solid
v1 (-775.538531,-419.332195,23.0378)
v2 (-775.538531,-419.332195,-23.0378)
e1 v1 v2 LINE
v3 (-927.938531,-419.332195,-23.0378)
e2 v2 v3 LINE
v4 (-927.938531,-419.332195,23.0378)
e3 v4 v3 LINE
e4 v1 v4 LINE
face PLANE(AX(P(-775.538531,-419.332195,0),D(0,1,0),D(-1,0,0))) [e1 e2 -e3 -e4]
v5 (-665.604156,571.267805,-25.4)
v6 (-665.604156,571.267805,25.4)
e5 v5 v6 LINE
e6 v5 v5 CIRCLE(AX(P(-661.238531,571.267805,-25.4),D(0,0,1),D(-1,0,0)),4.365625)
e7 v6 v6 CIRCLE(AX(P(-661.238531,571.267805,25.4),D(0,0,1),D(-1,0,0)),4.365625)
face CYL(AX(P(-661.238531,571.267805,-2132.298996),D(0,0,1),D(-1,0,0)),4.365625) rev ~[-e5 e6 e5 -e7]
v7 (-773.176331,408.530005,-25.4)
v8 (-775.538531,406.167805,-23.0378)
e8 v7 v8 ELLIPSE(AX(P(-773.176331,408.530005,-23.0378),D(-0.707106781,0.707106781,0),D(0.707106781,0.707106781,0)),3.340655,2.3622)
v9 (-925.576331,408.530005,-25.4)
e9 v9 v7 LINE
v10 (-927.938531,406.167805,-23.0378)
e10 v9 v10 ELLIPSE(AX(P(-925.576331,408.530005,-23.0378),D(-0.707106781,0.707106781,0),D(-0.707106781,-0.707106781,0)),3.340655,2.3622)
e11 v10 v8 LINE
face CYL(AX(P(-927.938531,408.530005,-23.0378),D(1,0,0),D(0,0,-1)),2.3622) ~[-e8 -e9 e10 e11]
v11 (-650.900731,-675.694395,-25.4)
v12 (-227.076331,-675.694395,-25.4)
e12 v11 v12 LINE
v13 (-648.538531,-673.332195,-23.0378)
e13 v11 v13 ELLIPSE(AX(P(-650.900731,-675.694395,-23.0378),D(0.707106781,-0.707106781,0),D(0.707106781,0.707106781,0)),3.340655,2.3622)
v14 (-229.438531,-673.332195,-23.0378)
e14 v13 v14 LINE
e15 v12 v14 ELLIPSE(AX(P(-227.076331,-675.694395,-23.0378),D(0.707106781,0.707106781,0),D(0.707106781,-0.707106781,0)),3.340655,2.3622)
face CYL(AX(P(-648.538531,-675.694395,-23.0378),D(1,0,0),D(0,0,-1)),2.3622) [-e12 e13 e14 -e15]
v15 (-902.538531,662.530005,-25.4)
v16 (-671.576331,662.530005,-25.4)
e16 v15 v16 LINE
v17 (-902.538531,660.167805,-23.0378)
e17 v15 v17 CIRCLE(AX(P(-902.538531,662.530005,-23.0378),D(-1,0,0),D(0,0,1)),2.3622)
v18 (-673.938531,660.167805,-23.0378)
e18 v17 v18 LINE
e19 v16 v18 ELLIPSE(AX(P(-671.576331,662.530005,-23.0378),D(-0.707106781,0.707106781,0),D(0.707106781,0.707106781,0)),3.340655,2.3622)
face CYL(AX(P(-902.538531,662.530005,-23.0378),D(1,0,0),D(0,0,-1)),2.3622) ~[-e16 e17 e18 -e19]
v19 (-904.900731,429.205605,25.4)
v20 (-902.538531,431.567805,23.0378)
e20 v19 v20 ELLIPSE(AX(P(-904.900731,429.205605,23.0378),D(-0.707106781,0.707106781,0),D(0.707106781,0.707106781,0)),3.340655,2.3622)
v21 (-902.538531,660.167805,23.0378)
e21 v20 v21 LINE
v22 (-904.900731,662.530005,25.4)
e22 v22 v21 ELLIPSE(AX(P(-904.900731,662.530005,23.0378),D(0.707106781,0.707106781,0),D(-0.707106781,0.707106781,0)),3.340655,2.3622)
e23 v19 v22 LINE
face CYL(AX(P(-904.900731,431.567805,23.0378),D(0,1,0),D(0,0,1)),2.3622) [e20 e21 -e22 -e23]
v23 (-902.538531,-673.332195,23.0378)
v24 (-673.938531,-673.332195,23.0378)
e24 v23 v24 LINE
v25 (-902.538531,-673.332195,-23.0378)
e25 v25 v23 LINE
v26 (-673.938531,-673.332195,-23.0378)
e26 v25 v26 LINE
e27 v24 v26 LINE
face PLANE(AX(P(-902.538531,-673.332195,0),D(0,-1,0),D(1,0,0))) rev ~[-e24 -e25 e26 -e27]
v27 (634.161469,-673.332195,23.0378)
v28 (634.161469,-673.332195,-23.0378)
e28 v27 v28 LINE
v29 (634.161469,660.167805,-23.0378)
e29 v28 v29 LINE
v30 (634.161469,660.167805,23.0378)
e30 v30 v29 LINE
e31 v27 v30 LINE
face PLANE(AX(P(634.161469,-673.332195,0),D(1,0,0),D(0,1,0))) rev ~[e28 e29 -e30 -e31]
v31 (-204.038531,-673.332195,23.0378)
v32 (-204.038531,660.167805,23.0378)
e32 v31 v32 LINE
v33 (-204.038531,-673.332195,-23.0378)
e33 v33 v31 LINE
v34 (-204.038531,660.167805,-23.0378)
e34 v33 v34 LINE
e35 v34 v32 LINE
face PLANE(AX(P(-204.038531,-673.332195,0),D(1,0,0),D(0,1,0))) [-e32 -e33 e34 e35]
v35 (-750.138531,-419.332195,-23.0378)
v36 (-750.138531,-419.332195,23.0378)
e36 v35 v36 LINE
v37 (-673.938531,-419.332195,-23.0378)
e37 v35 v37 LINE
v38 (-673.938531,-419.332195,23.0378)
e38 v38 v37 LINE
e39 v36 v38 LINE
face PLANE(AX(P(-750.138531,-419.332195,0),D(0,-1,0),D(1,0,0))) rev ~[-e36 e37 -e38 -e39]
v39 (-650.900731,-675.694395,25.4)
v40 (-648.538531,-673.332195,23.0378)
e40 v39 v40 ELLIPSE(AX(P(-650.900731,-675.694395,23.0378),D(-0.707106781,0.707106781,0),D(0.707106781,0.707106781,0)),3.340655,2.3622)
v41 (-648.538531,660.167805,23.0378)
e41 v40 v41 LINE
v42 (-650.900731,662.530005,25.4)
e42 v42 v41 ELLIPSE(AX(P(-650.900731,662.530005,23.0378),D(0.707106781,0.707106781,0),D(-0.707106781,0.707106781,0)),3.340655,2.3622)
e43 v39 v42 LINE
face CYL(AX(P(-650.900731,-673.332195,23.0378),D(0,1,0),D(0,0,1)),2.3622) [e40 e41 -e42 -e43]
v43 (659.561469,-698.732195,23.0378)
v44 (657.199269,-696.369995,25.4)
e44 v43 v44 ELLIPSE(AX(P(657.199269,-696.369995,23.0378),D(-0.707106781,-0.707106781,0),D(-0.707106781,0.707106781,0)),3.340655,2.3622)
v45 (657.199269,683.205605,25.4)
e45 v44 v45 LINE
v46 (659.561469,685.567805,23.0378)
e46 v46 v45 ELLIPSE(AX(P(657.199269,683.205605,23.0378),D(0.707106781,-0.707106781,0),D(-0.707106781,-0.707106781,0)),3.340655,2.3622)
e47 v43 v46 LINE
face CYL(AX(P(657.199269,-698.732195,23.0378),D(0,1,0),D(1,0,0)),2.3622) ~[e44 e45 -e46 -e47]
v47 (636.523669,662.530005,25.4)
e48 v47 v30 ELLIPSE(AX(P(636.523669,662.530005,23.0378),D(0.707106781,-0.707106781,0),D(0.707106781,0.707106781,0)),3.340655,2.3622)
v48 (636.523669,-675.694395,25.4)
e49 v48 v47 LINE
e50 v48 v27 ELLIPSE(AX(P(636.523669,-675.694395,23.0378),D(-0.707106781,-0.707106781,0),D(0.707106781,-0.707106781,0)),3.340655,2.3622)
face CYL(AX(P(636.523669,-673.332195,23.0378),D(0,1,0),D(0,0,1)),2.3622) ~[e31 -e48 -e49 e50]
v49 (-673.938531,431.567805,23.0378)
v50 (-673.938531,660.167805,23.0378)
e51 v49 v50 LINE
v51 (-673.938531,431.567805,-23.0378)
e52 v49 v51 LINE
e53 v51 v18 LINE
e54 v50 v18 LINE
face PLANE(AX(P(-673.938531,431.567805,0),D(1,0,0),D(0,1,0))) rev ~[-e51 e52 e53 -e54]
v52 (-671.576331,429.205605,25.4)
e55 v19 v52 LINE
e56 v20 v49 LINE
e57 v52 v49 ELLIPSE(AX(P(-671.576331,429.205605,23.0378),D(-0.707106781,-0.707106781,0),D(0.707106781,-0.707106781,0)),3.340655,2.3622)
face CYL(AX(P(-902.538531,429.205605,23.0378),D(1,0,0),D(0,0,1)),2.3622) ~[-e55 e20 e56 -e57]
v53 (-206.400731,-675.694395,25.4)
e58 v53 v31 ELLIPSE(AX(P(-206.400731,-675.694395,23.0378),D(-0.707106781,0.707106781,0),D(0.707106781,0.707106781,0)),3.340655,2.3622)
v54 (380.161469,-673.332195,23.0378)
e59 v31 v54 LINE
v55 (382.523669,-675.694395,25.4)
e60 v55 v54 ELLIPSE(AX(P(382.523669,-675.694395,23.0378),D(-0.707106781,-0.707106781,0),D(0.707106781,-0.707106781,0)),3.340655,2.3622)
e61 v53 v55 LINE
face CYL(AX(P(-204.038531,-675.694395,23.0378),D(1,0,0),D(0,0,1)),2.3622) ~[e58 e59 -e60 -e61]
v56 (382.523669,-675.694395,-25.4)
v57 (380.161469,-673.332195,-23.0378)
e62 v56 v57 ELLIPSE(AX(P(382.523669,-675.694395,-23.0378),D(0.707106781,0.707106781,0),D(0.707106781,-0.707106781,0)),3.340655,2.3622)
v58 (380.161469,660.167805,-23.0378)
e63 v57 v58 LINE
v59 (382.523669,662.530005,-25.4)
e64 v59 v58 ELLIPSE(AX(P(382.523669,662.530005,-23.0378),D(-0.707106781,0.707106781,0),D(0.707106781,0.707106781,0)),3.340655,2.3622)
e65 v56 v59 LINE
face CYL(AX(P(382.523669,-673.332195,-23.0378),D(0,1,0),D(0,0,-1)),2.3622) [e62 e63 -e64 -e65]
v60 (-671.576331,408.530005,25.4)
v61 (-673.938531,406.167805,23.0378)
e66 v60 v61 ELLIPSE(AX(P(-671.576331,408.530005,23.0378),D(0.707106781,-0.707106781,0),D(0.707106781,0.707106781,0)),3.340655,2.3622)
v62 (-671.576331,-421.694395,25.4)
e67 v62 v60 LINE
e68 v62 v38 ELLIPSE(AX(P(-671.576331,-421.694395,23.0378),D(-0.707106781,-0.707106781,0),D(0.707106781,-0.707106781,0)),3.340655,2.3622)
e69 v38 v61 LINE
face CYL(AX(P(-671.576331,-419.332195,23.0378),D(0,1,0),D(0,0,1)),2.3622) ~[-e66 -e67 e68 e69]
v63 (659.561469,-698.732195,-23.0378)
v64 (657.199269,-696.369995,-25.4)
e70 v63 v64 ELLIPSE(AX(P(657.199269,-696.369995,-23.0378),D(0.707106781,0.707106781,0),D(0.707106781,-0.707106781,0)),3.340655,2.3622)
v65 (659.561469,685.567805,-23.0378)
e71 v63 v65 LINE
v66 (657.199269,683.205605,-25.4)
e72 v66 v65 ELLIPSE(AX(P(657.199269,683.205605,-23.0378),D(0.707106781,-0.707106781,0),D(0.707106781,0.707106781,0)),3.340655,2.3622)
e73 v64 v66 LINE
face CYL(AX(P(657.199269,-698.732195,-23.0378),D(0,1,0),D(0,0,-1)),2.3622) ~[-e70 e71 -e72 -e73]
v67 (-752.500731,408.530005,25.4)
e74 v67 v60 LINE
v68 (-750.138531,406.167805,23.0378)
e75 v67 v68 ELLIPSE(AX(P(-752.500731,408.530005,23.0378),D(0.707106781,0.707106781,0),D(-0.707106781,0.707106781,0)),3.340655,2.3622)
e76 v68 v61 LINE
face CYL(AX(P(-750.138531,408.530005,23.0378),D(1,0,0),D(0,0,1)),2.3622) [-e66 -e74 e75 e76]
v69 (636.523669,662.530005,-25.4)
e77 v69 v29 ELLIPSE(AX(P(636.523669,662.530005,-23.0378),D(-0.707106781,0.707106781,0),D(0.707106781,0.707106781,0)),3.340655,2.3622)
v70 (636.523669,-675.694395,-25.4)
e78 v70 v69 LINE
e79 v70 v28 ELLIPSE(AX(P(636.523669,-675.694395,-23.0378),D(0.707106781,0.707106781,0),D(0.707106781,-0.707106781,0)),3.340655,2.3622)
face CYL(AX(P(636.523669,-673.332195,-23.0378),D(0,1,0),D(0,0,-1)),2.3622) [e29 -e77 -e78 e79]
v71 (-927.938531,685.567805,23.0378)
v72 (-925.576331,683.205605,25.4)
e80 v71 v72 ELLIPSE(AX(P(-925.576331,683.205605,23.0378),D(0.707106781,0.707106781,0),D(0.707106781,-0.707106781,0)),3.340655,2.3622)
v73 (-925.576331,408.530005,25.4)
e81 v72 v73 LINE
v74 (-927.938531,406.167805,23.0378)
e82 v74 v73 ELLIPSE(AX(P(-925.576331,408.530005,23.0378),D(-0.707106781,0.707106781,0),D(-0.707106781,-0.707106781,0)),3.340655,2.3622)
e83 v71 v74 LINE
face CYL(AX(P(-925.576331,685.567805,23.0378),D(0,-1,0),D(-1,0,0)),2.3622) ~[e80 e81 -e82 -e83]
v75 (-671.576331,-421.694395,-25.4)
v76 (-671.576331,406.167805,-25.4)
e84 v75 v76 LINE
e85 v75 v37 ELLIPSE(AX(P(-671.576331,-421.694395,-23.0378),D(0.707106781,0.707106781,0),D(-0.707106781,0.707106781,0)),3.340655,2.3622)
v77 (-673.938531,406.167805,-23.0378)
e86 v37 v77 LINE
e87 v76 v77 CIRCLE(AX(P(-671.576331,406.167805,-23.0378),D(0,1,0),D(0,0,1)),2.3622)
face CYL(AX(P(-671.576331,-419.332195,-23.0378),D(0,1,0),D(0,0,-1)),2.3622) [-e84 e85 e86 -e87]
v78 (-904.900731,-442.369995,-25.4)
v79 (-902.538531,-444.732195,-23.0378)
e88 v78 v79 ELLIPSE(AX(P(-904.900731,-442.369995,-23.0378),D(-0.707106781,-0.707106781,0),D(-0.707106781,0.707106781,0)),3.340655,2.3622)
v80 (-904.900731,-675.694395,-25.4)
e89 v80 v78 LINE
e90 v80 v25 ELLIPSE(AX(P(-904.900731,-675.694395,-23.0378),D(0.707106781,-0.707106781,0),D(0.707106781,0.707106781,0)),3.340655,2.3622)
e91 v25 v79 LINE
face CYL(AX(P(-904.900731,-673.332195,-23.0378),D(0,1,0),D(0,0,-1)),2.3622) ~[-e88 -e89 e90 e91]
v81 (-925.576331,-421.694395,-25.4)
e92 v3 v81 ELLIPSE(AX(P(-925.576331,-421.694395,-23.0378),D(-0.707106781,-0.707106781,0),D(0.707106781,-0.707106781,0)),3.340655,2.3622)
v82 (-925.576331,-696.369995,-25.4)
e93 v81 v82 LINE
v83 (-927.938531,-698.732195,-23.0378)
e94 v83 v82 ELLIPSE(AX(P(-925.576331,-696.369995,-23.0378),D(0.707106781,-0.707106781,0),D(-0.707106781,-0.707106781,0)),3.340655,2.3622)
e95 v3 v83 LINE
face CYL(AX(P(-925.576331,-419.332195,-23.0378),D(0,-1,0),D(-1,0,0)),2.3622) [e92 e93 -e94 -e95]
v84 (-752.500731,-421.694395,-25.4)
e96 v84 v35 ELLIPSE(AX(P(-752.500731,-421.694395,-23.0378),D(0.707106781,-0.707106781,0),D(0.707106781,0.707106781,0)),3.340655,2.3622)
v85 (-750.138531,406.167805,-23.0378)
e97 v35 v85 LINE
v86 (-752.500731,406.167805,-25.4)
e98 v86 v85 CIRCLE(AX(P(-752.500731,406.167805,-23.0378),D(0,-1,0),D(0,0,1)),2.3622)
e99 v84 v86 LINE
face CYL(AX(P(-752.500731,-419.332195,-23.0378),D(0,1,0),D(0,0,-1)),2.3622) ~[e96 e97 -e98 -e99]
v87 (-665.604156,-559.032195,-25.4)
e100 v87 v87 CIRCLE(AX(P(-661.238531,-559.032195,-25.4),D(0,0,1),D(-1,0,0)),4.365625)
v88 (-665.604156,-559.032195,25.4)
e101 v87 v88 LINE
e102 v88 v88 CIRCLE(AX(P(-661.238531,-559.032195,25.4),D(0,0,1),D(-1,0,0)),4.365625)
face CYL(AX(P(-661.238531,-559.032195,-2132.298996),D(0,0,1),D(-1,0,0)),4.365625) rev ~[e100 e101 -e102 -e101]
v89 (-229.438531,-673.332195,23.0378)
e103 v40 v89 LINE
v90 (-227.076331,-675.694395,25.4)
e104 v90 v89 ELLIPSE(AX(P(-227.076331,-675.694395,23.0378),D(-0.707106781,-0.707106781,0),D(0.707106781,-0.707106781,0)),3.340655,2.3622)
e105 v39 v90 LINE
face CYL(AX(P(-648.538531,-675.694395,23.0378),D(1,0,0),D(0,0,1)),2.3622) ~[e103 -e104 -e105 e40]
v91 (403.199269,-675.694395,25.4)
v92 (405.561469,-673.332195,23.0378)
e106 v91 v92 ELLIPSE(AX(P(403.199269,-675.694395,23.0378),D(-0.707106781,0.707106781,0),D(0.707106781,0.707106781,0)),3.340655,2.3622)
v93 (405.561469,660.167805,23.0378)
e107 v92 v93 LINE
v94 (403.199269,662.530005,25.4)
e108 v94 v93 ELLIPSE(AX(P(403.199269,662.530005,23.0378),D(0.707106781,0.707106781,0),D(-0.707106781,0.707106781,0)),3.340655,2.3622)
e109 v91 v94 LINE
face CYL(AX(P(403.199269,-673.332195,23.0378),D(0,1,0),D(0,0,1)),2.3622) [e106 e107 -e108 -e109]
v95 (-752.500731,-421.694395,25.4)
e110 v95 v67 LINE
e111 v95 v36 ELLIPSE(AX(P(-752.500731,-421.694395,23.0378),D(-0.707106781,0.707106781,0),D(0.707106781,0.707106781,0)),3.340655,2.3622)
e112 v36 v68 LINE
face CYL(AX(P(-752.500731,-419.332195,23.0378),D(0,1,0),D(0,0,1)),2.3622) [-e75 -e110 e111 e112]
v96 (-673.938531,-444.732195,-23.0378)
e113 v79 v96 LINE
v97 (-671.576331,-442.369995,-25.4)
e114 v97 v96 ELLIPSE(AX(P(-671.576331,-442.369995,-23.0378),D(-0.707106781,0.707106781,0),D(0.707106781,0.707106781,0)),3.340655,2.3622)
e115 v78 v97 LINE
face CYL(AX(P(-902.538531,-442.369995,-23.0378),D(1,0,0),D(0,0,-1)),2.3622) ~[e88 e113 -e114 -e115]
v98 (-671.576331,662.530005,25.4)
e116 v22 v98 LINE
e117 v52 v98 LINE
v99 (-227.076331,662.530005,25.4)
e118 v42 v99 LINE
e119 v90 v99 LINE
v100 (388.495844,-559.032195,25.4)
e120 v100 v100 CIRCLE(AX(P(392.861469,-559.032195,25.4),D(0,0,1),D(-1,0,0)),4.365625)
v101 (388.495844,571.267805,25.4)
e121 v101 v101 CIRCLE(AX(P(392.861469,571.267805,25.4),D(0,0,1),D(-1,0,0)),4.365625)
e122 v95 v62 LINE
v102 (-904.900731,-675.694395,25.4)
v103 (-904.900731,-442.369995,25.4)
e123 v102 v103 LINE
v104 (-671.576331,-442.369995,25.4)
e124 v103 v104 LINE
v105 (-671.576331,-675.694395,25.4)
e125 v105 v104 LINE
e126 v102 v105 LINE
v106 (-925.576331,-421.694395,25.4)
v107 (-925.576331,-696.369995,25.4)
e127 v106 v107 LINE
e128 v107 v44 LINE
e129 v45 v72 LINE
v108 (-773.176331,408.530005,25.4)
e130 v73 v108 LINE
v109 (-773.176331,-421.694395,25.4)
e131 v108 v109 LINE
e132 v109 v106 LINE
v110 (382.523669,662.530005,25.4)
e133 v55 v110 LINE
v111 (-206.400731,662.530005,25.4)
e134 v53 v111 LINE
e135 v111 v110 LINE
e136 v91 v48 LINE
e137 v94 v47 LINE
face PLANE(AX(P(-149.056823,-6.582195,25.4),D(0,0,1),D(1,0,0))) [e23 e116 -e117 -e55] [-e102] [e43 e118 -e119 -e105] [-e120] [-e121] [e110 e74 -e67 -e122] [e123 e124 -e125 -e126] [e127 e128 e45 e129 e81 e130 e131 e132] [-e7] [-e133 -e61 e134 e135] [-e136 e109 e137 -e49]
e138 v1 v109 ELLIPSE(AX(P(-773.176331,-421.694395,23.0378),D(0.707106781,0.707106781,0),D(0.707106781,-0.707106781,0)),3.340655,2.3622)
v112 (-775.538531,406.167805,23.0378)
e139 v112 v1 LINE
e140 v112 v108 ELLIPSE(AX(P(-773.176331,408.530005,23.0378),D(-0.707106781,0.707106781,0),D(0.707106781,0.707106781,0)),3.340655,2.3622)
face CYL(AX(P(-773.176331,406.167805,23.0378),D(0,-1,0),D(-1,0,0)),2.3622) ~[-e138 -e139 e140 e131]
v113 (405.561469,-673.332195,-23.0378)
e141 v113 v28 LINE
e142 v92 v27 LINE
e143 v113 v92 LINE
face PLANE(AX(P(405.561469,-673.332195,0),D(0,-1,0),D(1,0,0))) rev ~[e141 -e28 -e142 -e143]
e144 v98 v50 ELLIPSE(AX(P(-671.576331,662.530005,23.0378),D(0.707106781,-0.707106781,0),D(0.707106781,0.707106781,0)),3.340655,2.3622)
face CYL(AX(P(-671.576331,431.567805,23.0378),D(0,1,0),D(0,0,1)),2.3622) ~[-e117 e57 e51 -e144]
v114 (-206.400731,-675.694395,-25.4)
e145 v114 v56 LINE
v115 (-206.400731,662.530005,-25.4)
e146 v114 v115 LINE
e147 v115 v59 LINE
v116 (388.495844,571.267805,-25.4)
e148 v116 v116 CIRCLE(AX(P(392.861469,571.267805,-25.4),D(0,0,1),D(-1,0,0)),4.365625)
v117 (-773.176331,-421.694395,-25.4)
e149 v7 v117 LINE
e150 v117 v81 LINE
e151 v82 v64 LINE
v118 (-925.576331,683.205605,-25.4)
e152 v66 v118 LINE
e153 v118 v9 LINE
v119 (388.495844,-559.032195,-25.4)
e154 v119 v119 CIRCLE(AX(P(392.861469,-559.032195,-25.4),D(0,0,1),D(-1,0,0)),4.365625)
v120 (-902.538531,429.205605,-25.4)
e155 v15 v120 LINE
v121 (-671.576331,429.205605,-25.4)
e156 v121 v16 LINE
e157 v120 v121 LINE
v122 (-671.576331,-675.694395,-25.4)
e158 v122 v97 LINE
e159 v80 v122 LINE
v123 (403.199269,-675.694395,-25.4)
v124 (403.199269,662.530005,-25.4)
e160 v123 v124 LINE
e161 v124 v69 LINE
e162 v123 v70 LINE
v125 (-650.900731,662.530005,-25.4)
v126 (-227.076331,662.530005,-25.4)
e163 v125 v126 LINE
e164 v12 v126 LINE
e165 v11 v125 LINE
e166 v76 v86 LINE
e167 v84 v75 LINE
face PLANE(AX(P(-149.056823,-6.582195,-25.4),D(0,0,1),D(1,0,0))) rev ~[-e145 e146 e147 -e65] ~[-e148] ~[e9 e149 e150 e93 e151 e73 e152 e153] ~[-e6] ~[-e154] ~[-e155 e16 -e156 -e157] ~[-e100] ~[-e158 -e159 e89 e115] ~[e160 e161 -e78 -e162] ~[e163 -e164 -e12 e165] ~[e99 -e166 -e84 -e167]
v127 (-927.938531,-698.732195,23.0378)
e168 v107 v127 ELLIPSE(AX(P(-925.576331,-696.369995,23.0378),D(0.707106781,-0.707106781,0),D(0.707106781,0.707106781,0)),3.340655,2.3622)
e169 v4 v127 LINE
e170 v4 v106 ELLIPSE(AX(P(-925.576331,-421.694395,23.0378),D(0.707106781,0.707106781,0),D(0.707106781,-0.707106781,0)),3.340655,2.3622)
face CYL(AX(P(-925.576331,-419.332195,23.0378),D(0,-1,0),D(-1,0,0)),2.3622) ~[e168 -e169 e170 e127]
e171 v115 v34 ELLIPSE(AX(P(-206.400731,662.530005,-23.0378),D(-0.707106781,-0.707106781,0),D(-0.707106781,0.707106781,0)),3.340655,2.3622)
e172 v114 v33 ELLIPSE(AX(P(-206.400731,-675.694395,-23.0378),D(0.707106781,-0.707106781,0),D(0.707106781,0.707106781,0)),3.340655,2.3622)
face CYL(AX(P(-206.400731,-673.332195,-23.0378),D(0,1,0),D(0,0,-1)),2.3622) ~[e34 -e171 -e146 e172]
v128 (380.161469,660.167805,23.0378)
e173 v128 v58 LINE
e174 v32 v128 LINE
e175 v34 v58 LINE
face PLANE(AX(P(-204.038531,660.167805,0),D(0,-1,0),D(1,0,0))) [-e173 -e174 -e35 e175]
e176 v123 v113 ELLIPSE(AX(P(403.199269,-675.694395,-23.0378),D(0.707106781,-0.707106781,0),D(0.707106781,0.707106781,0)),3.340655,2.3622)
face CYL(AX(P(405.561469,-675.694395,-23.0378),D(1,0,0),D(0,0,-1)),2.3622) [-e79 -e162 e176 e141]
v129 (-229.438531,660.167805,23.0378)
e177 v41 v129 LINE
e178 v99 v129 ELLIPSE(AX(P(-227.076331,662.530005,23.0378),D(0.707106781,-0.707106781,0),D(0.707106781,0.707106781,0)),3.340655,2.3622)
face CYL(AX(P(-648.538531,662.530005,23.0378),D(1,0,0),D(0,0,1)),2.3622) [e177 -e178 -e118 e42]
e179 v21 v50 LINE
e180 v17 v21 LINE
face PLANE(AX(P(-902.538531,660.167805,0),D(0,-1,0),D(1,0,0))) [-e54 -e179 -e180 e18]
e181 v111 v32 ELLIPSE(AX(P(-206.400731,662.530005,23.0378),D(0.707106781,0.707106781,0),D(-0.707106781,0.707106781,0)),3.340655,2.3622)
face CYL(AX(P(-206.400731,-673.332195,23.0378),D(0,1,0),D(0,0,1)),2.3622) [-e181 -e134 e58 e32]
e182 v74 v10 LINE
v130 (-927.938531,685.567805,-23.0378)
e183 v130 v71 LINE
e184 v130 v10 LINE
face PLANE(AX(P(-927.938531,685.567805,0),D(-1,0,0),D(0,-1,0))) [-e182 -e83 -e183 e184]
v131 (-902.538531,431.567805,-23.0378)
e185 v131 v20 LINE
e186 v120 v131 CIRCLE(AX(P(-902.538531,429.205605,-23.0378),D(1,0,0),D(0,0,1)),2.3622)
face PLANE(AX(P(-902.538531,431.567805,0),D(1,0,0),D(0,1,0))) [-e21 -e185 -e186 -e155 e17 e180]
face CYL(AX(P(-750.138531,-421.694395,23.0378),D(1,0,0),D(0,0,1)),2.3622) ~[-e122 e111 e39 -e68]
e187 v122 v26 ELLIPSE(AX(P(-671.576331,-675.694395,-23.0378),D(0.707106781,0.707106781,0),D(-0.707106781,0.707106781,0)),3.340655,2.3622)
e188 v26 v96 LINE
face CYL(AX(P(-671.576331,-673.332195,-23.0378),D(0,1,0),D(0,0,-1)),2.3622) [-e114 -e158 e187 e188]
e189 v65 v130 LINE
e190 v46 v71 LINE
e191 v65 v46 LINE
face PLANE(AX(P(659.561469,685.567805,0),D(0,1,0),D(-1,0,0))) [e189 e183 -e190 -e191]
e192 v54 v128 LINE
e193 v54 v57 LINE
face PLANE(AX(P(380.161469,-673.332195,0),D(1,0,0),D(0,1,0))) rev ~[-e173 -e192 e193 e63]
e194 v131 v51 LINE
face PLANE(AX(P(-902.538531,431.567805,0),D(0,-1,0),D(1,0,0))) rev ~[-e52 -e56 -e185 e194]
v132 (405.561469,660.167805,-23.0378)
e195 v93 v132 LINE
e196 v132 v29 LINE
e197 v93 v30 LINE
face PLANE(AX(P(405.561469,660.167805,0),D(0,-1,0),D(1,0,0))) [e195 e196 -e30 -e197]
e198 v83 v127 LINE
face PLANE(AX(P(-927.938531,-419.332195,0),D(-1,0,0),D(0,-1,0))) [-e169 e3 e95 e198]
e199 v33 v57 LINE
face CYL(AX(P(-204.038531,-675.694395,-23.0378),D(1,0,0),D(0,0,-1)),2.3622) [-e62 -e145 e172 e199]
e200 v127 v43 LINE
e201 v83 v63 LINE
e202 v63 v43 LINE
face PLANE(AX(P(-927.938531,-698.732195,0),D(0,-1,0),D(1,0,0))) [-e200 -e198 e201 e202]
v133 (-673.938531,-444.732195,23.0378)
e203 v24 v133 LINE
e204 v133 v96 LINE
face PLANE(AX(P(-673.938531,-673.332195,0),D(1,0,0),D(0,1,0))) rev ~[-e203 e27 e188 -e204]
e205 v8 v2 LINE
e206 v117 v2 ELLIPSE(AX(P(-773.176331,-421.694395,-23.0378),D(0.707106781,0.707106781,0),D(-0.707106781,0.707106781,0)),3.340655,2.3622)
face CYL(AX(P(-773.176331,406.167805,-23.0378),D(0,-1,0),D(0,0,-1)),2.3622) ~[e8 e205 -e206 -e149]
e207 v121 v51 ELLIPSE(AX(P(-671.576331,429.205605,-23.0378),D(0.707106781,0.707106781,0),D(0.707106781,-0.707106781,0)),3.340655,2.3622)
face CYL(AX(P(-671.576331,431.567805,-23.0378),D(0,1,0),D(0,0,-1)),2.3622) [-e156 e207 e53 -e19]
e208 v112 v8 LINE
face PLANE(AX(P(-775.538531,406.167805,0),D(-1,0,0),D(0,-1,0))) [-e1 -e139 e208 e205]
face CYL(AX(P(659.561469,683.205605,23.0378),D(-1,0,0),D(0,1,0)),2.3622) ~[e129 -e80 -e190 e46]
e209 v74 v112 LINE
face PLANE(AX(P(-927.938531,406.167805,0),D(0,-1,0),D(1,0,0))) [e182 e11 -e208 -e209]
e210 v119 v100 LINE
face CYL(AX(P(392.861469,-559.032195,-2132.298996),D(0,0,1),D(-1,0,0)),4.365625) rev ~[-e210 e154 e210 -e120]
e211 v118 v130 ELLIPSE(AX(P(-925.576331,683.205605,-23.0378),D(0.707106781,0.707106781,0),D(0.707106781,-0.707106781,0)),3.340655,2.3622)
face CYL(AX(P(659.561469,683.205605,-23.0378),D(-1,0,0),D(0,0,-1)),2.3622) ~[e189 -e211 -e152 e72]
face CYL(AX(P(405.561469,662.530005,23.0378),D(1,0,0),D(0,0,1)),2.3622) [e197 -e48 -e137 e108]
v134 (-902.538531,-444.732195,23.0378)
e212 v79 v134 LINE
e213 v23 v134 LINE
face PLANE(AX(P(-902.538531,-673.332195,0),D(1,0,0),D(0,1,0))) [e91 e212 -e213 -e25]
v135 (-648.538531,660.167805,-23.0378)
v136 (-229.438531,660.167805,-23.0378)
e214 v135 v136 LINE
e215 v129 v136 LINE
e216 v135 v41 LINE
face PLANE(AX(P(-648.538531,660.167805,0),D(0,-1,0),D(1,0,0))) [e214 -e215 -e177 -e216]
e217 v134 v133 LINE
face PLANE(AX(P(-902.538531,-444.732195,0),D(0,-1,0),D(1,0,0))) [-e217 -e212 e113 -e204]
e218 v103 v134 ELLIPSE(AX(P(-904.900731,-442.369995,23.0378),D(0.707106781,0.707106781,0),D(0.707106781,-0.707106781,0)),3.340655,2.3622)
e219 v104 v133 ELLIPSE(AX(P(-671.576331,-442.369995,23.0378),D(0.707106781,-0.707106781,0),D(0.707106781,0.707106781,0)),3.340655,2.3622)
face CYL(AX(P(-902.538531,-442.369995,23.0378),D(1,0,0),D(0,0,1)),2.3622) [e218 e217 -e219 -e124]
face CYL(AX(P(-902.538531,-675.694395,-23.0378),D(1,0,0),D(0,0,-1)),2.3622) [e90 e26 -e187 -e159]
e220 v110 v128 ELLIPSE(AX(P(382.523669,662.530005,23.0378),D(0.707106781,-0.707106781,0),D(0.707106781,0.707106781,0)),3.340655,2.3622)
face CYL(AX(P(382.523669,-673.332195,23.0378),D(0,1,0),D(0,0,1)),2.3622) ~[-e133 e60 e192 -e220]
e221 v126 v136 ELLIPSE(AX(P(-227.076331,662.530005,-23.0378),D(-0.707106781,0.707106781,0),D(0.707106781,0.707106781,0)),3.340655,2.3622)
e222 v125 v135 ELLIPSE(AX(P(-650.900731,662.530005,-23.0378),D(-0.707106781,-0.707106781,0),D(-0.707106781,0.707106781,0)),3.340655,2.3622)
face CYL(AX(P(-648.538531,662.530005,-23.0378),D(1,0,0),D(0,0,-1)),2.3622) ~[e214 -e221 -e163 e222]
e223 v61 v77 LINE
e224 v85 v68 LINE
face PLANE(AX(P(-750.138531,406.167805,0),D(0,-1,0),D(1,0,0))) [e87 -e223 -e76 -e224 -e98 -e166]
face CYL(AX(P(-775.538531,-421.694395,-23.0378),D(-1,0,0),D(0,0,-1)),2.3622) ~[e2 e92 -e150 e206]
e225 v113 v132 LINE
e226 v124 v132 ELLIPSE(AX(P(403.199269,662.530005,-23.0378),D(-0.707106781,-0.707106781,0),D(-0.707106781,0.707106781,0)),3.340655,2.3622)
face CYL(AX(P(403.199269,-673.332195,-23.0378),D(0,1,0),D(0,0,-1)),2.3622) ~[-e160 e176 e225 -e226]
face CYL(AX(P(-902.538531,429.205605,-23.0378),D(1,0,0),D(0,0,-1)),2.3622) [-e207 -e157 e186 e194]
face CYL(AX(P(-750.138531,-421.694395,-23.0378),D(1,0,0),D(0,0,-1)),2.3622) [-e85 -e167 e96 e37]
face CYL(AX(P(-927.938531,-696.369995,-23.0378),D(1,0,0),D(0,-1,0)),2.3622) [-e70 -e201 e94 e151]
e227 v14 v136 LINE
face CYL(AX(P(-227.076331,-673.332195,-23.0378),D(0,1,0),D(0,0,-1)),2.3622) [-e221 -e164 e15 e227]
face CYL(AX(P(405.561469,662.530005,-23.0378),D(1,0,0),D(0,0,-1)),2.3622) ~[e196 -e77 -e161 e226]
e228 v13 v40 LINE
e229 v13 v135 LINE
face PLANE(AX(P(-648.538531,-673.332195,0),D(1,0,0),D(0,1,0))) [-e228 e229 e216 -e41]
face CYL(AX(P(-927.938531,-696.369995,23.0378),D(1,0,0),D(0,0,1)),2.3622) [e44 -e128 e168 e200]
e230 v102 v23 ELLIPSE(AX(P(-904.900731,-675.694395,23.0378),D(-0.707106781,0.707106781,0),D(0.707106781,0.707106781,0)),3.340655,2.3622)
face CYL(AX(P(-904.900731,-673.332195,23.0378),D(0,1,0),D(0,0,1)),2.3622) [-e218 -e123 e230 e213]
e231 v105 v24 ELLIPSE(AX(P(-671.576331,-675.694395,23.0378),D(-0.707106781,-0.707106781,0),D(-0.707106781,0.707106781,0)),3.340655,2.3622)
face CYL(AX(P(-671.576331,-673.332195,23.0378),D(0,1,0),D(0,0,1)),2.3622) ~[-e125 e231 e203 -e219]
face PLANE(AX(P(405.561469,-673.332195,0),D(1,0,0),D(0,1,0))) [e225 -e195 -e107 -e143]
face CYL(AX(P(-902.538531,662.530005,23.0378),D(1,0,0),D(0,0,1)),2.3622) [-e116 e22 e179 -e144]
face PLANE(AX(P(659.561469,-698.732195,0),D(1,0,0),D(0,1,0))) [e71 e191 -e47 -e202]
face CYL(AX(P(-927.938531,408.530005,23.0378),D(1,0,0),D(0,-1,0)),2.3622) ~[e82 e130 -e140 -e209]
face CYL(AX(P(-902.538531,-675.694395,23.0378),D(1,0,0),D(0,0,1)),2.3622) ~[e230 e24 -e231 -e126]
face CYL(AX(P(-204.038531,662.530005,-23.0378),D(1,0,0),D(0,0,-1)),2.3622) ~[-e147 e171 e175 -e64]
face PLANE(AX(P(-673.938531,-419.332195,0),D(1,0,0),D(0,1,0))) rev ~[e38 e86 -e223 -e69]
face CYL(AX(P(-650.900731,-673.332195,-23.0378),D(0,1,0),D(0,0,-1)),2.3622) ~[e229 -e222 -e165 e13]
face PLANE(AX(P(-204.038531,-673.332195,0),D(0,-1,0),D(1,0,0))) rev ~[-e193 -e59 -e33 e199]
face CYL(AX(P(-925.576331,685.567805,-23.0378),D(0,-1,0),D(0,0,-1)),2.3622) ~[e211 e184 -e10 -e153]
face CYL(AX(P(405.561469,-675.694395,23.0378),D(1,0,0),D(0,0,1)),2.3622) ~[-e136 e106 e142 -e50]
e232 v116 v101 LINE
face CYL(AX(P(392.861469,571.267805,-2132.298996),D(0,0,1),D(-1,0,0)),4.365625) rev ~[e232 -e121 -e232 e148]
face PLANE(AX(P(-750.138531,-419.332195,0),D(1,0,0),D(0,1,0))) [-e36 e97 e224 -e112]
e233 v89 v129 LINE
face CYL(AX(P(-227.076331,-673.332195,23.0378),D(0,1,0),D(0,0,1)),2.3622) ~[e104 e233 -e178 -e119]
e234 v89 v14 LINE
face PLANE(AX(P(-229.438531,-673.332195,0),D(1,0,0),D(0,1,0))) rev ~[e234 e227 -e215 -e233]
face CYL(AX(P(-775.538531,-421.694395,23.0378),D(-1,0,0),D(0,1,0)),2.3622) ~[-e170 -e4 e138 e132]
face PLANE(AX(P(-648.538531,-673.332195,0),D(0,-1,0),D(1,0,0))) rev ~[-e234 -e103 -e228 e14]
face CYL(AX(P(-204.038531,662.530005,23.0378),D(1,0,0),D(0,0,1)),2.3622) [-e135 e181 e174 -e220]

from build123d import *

# Parameters (mm, degrees)
F0_W     = 228.6
F0_H     = 228.6
F0_W_2   = 76.2
F0_H_2   = 825.5
F0_W_3   = 419.1
F0_H_3   = 1333.5
F0_W_4   = 584.2
F1_DEPTH = 25.4
F2_R     = 2.3622
F3_R     = 2.3622
F5_D     = 8.73125


with BuildPart() as f1:
    # F0 (on Top) → F1 (new body, symmetric)
    with BuildSketch(Plane.XY):
        Polygon((-927.9385305348, -419.3321948051), (-927.9385305348, -698.7321948051), (659.5614694652, -698.7321948051), (659.5614694652, 685.5678051949), (-927.9385305348, 685.5678051949), (-927.9385305348, 406.1678051949), (-775.5385305348, 406.1678051949), (-775.5385305348, -419.3321948051), align=None)
        with Locations((-788.2385305348, -559.0321948051)):
            Rectangle(F0_W, F0_H, mode=Mode.SUBTRACT)
        with Locations((-712.0385305348, -6.5821948051)):
            Rectangle(F0_W_2, F0_H_2, mode=Mode.SUBTRACT)
        with Locations((-438.9885305348, -6.5821948051)):
            Rectangle(F0_W_3, F0_H_3, mode=Mode.SUBTRACT)
        with Locations((-788.2385305348, 545.8678051949)):
            Rectangle(F0_W, F0_H, mode=Mode.SUBTRACT)
        with Locations((88.0614694652, -6.5821948051)):
            Rectangle(F0_W_4, F0_H_3, mode=Mode.SUBTRACT)
        with Locations((519.8614694652, -6.5821948051)):
            Rectangle(F0_W, F0_H_3, mode=Mode.SUBTRACT)
    extrude(amount=F1_DEPTH, both=True)

    # F2
    f2_edges = [f1.edges().sort_by_distance(p)[0] for p in [
        (-927.938531, 545.867805, 25.4),
        (-851.738531, 406.167805, 25.4),
        (-775.538531, -6.582195, 25.4),
        (-134.188531, 685.567805, 25.4),
        (659.561469, -6.582195, 25.4),
        (-134.188531, -698.732195, 25.4),
        (-927.938531, -559.032195, 25.4),
        (-851.738531, -419.332195, 25.4),
        (-712.038531, -419.332195, 25.4),
        (-750.138531, -6.582195, 25.4),
        (-788.238531, -444.732195, 25.4),
        (-673.938531, -559.032195, 25.4),
        (-902.538531, -559.032195, 25.4),
        (-788.238531, -673.332195, 25.4),
        (-438.988531, -673.332195, 25.4),
        (-648.538531, -6.582195, 25.4),
        (-229.438531, -6.582195, 25.4),
        (88.061469, -673.332195, 25.4),
        (380.161469, -6.582195, 25.4),
        (519.861469, -673.332195, 25.4),
        (634.161469, -6.582195, 25.4),
        (-204.038531, -6.582195, 25.4),
        (405.561469, -6.582195, 25.4),
        (-902.538531, 545.867805, 25.4),
        (-788.238531, 431.567805, 25.4),
        (-788.238531, 660.167805, 25.4),
        (-438.988531, 660.167805, 25.4),
        (-712.038531, 406.167805, 25.4),
        (-673.938531, -6.582195, 25.4),
        (-673.938531, 545.867805, 25.4),
        (88.061469, 660.167805, 25.4),
        (519.861469, 660.167805, 25.4),
    ]]
    fillet(f2_edges, radius=F2_R)

    # F3
    f3_edges = [f1.edges().sort_by_distance(p)[0] for p in [
        (-927.938531, -559.032195, -25.4),
        (-851.738531, -419.332195, -25.4),
        (-902.538531, -559.032195, -25.4),
        (-673.938531, -559.032195, -25.4),
        (-788.238531, -673.332195, -25.4),
        (-134.188531, -698.732195, -25.4),
        (-438.988531, -673.332195, -25.4),
        (-648.538531, -6.582195, -25.4),
        (-229.438531, -6.582195, -25.4),
        (-204.038531, -6.582195, -25.4),
        (-788.238531, -444.732195, -25.4),
        (88.061469, -673.332195, -25.4),
        (380.161469, -6.582195, -25.4),
        (405.561469, -6.582195, -25.4),
        (519.861469, -673.332195, -25.4),
        (634.161469, -6.582195, -25.4),
        (519.861469, 660.167805, -25.4),
        (88.061469, 660.167805, -25.4),
        (-438.988531, 660.167805, -25.4),
        (-788.238531, 660.167805, -25.4),
        (-927.938531, 545.867805, -25.4),
        (-851.738531, 406.167805, -25.4),
        (-788.238531, 431.567805, -25.4),
        (-673.938531, 545.867805, -25.4),
        (-673.938531, -6.582195, -25.4),
        (-775.538531, -6.582195, -25.4),
        (-750.138531, -6.582195, -25.4),
        (659.561469, -6.582195, -25.4),
        (-712.038531, -419.332195, -25.4),
        (-134.188531, 685.567805, -25.4),
    ]]
    fillet(f3_edges, radius=F3_R)

    # F5 (through all)
    with Locations(Plane(origin=(0, 0, -25.4), x_dir=(1, 0, 0), z_dir=(0, 0, -1))):
        with Locations((-661.2385305348, -571.2678051949), (-661.2385305348, 559.0321948051), (392.8614694652, 559.0321948051), (392.8614694652, -571.2678051949)):
            Hole(F5_D / 2)


solid = f1.part
